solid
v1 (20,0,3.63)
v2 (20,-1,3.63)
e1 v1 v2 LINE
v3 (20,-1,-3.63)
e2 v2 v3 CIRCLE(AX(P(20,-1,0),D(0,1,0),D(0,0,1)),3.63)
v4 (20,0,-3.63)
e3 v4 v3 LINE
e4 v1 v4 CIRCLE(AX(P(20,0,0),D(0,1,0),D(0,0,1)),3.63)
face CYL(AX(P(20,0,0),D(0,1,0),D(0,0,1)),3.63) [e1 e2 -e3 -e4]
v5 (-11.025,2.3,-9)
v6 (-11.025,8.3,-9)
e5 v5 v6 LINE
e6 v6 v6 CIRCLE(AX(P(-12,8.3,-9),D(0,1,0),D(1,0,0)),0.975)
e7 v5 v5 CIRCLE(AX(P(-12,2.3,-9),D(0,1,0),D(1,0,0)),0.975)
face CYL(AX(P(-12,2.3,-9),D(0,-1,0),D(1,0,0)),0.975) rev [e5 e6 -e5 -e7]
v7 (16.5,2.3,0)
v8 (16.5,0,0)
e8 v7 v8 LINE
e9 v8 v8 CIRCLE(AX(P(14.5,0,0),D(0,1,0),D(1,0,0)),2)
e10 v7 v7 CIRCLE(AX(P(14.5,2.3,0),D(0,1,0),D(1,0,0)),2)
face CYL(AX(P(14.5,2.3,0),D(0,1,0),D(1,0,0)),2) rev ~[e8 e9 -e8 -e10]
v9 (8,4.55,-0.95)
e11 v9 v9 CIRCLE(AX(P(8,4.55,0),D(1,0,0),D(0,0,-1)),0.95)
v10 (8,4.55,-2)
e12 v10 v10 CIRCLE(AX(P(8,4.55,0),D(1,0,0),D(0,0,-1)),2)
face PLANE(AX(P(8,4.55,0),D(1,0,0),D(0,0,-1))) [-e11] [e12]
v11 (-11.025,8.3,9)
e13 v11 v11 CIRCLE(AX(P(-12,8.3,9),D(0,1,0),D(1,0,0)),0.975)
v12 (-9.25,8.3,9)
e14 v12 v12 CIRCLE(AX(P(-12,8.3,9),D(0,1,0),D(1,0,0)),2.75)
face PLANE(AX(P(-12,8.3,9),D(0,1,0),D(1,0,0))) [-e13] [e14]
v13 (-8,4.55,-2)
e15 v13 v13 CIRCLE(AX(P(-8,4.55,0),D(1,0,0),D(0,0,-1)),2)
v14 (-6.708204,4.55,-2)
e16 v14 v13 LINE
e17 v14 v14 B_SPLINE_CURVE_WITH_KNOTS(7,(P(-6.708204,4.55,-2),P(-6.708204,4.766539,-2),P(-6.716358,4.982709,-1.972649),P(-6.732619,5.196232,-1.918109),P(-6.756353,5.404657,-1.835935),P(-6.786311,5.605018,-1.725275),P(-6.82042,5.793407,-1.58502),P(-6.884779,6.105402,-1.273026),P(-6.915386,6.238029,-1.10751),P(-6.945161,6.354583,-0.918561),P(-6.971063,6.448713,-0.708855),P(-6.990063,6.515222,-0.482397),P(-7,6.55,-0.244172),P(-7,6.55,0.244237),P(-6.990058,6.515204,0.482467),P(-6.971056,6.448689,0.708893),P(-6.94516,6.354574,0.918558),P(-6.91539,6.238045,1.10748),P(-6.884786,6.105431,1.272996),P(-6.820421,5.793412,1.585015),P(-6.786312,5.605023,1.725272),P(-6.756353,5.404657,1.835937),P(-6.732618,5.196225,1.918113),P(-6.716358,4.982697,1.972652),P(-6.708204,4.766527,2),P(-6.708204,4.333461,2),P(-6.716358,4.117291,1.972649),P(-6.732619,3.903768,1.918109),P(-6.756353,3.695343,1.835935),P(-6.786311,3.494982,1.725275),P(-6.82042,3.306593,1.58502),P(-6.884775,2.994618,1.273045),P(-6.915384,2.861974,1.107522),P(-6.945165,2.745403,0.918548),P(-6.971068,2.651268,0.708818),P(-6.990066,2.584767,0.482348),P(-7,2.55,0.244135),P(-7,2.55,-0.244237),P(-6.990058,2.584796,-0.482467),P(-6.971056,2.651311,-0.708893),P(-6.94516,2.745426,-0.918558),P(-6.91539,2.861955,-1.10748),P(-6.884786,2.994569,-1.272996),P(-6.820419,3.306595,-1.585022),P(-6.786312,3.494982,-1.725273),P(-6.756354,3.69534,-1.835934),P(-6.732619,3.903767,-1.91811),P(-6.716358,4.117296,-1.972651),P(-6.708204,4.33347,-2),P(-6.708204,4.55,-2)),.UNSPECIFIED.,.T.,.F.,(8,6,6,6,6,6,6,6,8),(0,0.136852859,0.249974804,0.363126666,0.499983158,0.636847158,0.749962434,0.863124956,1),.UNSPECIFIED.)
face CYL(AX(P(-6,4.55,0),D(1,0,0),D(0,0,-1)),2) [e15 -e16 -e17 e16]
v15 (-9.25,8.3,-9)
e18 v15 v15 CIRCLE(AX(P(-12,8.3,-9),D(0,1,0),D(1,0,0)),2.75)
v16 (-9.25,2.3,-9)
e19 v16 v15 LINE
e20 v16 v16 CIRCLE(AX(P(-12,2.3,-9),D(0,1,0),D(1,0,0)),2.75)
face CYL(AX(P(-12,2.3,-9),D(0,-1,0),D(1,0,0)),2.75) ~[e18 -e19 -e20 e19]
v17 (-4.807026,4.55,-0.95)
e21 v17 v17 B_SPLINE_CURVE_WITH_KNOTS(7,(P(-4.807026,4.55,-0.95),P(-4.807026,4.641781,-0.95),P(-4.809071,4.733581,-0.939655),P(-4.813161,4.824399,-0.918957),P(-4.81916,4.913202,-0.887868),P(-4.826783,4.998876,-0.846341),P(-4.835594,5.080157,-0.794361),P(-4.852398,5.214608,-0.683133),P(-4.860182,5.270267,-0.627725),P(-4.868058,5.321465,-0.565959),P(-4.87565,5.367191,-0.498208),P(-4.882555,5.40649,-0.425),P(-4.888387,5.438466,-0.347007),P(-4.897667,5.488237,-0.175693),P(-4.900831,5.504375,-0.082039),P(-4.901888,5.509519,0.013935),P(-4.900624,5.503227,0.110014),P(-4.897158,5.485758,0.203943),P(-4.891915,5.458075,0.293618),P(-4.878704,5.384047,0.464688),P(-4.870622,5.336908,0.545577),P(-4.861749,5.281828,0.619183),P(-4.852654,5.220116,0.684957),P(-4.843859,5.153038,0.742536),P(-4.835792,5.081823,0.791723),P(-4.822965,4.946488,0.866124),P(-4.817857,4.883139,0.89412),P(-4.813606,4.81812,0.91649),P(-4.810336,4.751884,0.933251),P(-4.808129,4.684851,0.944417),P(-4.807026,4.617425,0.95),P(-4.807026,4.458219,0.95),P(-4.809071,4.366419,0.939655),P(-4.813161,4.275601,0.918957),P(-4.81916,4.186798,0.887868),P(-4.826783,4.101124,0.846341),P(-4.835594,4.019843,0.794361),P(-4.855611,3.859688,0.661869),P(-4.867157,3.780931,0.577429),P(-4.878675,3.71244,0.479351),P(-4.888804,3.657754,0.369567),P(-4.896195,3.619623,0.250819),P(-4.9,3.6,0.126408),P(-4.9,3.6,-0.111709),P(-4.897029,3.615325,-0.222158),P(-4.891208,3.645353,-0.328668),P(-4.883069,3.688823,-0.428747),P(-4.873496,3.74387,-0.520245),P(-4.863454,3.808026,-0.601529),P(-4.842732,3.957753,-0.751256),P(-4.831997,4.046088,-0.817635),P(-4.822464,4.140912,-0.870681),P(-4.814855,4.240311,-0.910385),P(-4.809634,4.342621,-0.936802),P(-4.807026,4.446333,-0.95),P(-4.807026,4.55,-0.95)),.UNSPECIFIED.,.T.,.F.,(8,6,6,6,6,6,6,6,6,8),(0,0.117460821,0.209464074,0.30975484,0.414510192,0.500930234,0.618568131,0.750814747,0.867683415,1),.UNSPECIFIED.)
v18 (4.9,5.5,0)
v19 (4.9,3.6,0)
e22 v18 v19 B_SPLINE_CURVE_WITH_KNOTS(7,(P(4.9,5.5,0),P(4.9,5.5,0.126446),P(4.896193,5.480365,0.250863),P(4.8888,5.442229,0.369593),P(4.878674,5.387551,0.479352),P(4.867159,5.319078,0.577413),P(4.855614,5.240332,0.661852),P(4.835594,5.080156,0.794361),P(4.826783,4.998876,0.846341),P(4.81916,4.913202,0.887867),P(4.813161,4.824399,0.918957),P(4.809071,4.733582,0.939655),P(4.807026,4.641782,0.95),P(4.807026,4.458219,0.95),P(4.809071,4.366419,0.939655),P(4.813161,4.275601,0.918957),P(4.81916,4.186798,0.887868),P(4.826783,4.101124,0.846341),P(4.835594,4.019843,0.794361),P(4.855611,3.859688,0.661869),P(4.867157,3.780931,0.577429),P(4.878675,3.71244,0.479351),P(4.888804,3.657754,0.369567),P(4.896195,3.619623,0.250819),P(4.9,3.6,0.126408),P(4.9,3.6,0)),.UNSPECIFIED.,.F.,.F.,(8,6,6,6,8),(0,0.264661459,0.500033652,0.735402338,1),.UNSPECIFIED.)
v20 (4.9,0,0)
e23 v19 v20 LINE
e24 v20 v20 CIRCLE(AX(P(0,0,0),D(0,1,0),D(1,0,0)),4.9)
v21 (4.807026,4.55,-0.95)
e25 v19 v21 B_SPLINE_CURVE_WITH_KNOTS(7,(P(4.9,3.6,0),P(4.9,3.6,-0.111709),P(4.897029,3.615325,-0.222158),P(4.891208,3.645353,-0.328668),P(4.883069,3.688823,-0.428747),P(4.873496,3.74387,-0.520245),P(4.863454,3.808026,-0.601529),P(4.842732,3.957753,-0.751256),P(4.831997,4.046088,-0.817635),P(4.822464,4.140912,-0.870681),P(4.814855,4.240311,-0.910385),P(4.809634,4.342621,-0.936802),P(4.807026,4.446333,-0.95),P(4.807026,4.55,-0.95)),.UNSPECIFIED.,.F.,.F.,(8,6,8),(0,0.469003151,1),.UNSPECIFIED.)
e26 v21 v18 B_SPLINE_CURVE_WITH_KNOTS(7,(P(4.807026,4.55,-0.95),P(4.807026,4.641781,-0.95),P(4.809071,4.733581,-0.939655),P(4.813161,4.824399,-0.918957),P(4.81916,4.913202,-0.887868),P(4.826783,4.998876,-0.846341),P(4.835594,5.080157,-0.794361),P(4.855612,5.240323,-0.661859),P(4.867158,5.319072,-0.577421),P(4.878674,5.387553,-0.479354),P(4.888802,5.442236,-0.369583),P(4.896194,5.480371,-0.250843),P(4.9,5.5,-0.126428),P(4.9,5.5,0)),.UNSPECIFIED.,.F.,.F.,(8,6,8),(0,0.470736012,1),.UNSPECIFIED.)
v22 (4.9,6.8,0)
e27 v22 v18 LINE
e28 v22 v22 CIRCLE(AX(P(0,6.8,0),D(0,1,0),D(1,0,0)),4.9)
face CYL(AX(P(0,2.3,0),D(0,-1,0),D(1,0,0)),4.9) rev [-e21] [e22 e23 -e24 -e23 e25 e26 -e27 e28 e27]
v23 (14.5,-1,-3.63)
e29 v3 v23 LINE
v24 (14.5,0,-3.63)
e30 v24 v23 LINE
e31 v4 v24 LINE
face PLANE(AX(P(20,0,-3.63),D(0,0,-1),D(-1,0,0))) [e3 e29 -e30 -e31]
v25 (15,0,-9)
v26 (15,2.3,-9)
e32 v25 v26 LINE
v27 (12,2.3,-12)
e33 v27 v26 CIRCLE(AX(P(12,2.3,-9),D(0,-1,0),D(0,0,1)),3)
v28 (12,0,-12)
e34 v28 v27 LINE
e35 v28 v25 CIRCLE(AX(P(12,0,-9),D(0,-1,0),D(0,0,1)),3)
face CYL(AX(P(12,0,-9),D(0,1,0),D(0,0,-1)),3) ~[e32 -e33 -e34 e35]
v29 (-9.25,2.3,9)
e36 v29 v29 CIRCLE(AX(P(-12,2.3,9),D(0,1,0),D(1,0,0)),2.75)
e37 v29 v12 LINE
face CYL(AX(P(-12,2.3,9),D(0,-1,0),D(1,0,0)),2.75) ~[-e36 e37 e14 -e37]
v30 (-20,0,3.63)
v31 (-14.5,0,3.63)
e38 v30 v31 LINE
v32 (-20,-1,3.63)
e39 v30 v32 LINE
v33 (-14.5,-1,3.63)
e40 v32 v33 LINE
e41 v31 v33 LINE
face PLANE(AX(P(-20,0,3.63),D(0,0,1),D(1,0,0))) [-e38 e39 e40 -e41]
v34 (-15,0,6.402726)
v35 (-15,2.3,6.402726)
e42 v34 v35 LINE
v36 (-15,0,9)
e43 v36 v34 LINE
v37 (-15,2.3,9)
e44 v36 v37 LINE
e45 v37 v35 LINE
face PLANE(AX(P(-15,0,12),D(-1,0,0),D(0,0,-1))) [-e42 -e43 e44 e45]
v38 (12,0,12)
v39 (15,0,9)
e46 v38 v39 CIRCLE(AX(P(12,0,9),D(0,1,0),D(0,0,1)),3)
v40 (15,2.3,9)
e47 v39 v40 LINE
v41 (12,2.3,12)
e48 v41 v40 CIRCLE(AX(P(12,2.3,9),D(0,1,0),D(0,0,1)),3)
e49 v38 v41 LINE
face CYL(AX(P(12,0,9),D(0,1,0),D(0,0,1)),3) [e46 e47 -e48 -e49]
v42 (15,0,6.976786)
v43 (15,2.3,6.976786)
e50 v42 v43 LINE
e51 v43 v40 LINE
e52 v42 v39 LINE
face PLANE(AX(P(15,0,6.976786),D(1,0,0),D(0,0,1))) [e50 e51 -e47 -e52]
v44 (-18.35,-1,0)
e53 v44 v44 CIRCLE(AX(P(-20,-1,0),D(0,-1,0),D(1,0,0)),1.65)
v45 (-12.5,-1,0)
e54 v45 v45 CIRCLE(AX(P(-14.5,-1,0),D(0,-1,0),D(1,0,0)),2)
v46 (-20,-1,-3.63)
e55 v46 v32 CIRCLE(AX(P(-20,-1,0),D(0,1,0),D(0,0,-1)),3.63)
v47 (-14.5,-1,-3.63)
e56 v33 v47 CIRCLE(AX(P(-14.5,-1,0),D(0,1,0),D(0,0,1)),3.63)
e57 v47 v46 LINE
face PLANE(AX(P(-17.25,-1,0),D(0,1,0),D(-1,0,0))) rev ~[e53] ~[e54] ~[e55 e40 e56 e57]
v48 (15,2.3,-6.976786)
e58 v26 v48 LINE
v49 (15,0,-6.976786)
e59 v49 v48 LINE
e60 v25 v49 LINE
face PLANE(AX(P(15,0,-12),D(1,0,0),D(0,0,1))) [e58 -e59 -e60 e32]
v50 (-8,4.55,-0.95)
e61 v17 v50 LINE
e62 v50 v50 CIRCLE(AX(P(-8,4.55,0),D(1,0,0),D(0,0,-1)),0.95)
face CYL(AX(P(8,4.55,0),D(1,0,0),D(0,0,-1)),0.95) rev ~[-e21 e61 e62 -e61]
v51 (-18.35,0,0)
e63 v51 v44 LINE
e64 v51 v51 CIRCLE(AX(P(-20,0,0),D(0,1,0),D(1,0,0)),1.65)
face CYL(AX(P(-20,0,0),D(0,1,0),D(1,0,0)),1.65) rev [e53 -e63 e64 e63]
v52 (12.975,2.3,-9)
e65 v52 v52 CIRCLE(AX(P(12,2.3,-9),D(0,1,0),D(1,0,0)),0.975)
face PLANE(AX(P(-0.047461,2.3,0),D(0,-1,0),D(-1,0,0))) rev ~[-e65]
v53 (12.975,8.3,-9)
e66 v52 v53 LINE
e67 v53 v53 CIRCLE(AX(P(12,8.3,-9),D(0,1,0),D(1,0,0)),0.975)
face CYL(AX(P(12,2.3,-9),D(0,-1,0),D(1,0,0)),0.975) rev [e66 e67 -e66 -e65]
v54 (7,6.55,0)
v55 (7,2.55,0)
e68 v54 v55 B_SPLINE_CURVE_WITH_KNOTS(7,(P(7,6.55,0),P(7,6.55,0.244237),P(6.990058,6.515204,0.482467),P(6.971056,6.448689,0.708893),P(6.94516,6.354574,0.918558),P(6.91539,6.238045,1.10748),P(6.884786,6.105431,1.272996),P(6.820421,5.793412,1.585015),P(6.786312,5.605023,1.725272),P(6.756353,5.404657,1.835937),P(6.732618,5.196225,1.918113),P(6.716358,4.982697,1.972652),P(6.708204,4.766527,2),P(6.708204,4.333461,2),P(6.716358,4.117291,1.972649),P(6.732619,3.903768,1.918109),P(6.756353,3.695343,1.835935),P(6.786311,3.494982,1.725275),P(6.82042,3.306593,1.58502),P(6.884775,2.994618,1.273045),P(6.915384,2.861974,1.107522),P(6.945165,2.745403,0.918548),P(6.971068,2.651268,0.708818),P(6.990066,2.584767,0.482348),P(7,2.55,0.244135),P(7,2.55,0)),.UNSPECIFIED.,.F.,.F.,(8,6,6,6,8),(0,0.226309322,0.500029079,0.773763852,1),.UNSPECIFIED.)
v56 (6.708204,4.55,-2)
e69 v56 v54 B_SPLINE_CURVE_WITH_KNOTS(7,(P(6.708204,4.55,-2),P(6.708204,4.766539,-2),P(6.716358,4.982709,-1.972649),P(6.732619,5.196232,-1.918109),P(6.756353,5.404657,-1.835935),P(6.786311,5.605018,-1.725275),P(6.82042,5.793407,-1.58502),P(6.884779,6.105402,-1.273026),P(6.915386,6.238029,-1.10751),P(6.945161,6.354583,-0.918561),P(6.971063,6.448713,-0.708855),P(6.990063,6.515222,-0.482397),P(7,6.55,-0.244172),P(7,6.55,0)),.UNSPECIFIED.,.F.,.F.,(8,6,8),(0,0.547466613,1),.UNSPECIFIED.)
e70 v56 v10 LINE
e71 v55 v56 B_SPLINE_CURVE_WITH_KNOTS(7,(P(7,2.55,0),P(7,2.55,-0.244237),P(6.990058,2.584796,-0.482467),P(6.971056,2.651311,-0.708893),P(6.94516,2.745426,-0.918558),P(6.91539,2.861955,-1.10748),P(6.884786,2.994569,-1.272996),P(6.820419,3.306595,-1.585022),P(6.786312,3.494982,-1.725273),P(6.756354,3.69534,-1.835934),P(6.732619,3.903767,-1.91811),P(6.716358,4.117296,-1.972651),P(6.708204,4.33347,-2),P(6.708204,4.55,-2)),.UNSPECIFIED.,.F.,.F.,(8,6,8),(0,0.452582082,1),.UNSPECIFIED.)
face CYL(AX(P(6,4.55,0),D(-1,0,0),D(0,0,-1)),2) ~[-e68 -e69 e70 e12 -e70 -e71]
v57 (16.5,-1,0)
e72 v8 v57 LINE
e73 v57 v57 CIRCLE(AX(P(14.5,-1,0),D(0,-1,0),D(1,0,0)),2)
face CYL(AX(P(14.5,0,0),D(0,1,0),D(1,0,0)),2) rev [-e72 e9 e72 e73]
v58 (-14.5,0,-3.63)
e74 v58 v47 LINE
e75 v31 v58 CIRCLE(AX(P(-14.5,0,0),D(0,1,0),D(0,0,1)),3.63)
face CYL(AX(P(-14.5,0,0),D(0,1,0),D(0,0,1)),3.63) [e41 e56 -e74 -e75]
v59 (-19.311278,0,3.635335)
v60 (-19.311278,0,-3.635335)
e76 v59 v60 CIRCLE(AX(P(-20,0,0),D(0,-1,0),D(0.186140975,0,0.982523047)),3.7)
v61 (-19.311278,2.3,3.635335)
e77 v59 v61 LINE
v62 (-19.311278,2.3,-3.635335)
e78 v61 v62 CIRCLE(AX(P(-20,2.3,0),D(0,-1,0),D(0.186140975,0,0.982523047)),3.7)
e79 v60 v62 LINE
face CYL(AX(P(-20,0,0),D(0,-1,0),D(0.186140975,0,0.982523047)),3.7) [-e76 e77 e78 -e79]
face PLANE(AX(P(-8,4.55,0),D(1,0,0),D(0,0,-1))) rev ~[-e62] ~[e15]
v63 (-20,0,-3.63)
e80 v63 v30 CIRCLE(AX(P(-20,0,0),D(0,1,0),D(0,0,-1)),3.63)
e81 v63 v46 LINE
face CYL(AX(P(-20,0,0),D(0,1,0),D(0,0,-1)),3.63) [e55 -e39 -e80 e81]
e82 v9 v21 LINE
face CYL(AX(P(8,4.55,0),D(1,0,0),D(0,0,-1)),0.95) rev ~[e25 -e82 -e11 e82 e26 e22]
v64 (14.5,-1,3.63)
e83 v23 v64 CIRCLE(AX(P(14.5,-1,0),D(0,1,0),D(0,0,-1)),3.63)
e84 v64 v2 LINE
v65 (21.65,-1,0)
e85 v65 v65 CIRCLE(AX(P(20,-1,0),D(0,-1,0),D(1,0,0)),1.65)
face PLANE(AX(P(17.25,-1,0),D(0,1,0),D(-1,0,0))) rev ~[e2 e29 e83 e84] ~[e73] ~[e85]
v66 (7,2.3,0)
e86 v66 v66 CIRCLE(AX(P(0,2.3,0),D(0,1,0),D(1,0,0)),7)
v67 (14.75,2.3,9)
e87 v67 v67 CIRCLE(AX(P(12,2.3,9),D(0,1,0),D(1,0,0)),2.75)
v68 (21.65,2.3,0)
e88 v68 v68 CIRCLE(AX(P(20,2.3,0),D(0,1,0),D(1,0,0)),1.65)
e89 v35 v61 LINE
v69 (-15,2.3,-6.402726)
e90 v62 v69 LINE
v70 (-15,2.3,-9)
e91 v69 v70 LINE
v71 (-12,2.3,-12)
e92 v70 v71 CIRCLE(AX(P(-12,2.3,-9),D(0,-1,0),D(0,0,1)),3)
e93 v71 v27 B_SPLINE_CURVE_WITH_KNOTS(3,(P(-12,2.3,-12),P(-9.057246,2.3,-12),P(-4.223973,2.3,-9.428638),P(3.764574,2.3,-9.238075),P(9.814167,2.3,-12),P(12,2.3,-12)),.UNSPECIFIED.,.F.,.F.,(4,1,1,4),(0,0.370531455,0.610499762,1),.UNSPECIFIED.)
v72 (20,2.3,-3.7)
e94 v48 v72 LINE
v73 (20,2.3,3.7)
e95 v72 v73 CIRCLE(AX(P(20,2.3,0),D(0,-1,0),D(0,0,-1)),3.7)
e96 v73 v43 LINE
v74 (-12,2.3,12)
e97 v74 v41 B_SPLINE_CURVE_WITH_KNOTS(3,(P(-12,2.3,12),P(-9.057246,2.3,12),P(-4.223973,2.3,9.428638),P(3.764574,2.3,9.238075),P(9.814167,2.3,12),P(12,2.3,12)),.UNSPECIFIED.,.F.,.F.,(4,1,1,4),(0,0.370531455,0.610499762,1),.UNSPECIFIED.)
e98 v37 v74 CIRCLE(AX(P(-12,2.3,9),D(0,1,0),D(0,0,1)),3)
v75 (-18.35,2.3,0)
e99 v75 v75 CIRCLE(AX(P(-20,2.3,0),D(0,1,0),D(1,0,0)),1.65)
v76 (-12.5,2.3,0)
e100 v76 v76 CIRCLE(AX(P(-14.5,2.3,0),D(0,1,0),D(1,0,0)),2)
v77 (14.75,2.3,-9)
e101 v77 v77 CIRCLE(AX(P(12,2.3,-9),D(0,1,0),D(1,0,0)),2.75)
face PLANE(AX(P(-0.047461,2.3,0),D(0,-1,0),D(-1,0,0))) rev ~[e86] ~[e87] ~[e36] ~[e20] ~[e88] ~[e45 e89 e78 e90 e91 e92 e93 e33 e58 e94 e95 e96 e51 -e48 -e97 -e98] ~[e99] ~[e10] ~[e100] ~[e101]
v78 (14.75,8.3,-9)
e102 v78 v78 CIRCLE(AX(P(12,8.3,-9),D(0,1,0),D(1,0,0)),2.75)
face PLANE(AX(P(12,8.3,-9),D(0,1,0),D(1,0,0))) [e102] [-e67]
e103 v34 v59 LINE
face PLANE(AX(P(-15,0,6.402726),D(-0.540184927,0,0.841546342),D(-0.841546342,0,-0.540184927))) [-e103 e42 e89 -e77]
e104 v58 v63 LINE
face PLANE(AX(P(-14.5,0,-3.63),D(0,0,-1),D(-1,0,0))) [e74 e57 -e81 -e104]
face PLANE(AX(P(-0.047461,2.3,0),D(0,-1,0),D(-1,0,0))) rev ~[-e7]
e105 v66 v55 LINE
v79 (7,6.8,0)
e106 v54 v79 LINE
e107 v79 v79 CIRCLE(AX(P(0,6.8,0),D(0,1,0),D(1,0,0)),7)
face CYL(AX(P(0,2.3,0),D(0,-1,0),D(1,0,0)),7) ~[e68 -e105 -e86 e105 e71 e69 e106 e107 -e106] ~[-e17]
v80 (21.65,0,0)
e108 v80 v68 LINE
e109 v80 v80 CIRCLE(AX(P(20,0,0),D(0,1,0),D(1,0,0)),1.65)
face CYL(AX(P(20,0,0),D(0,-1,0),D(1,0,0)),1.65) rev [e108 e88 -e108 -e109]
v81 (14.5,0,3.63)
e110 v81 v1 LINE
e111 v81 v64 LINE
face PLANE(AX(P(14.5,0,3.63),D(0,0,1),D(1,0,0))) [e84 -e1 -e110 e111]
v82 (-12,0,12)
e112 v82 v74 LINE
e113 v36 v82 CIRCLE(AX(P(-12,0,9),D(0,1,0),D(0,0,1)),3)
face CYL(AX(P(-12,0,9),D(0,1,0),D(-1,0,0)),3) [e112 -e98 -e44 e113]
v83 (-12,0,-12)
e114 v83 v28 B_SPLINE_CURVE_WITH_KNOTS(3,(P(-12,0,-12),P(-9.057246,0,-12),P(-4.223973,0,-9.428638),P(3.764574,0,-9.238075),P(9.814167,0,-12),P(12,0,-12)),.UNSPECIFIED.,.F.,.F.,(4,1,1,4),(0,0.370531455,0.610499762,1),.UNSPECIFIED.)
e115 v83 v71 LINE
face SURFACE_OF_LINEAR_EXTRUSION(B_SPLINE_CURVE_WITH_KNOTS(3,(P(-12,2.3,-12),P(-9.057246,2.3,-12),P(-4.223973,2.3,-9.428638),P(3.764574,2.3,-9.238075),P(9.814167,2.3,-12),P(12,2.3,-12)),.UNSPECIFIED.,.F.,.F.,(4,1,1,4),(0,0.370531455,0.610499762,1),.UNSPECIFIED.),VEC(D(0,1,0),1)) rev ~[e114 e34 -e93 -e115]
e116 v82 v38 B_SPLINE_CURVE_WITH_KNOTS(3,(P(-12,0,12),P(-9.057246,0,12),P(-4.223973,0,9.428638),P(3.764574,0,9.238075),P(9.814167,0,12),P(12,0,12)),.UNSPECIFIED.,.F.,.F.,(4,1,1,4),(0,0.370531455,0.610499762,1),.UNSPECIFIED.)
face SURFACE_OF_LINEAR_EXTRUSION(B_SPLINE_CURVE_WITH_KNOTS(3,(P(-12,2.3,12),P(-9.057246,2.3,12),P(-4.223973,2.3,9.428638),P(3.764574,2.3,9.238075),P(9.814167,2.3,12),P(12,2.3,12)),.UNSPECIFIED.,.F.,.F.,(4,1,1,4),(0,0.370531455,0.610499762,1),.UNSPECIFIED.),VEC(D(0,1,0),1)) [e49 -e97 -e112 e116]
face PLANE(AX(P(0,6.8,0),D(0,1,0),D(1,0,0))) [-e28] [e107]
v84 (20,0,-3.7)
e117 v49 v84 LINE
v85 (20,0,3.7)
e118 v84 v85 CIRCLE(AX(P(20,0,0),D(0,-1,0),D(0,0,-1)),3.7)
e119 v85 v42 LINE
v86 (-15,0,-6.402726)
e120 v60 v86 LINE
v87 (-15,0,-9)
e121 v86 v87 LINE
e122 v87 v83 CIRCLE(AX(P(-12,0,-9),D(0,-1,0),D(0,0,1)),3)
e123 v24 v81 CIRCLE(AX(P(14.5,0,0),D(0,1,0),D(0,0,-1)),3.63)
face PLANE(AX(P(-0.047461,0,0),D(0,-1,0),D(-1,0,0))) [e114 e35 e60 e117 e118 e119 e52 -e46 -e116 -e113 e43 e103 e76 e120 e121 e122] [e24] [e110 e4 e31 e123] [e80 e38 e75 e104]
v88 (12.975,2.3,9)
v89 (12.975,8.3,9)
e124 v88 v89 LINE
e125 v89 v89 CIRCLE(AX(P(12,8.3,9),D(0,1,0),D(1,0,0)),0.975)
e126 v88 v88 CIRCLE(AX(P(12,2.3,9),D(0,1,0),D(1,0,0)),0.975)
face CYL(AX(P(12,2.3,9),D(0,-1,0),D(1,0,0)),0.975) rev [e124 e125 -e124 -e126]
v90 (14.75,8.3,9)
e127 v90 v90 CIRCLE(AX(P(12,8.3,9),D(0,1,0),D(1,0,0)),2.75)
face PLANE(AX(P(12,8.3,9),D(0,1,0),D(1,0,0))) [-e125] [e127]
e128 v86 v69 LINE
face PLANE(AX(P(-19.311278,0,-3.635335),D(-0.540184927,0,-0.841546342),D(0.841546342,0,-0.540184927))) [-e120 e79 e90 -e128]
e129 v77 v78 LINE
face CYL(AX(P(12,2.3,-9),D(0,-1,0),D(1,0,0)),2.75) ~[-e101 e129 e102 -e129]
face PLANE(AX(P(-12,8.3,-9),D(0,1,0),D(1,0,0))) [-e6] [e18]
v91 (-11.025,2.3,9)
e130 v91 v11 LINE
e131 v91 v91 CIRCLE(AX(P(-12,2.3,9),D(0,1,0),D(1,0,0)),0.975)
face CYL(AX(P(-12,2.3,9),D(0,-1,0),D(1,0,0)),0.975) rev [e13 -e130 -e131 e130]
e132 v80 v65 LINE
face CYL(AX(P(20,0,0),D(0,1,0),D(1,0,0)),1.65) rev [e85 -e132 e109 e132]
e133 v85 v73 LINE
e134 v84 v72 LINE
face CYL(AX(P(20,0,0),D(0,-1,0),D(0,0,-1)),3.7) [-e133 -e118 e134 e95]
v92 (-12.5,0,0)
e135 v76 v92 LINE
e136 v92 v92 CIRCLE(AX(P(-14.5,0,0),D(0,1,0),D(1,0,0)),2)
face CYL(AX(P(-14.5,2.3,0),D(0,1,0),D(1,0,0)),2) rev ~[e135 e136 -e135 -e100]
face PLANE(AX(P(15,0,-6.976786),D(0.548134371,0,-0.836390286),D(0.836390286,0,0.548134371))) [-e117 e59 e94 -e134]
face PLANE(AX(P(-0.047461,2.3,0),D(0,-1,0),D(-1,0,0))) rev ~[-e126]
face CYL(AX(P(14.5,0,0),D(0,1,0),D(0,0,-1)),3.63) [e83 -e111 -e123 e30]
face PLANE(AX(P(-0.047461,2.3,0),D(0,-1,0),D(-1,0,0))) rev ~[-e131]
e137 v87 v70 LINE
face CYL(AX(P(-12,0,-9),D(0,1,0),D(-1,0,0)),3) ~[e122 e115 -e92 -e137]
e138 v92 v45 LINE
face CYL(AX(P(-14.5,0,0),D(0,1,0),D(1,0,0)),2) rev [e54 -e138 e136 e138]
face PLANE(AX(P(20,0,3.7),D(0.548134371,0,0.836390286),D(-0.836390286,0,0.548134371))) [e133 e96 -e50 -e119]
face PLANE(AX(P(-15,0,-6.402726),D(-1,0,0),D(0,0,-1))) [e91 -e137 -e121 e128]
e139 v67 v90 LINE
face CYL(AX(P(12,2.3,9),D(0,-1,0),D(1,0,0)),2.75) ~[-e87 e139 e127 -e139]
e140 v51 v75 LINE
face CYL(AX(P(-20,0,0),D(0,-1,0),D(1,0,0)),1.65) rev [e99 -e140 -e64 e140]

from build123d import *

# Parameters (mm, degrees)
SKETCH1_R           = 4.9
SKETCH1_R_2         = 1.65
BOSS_EXTRUDE1_DEPTH = 2.3
FILLET1_R           = 3
SKETCH3_R           = 2.75
SKETCH3_R_2         = 0.975
BOSS_EXTRUDE2_DEPTH = 6
CUT_EXTRUDE1_DEPTH  = 2.3
SKETCH5_R           = 7
SKETCH5_R_2         = 4.9
BOSS_EXTRUDE3_DEPTH = 4.5
BOSS_EXTRUDE4_START = 6
SKETCH6_R           = 2
BOSS_EXTRUDE4_DEPTH = 2
BOSS_EXTRUDE5_START = -6
SKETCH6_2_R         = 2
BOSS_EXTRUDE5_DEPTH = 2
SKETCH7_R           = 0.104776465
SKETCH7_R_2         = 0.95
CUT_EXTRUDE2_DEPTH  = 16
SKETCH8_R           = 2
CUT_EXTRUDE3_DEPTH  = 2.3
SKETCH10_R          = 2
SKETCH10_R_2        = 1.65
BOSS_EXTRUDE8_DEPTH = 1


with BuildPart() as part:
    # Sketch1 → Boss-Extrude1 (new body)
    with BuildSketch(Plane(origin=(0, 0, 0), x_dir=(1, 0, 0), z_dir=(0, 1, 0))):
        with BuildLine():
            Line((-19.311278394, 3.635335273), (-15, 6.402726073))
            Line((-15, 6.402726073), (-15, 12))
            Line((-15, 12), (15, 12))
            Line((15, 12), (15, 6.97678585))
            Line((15, 6.97678585), (20, 3.7))
            ThreePointArc((20, 3.7), (23.7, 0), (20, -3.7))
            Line((20, -3.7), (15, -6.97678585))
            Line((15, -6.97678585), (15, -12))
            Line((15, -12), (-15, -12))
            Line((-15, -12), (-15, -6.402726073))
            Line((-15, -6.402726073), (-19.311278394, -3.635335273))
            ThreePointArc((-19.311278394, -3.635335273), (-23.7, 0), (-19.311278394, 3.635335273))
        make_face()
        Circle(SKETCH1_R, mode=Mode.SUBTRACT)
        with Locations((-20, 0)):
            Circle(SKETCH1_R_2, mode=Mode.SUBTRACT)
        with Locations((20, 0)):
            Circle(SKETCH1_R_2, mode=Mode.SUBTRACT)
    extrude(amount=BOSS_EXTRUDE1_DEPTH)

    # Fillet1
    fillet1_edges = [part.edges().sort_by_distance(p)[0] for p in [
        (-15, 1.15, -12),
        (15, 1.15, -12),
        (15, 1.15, 12),
        (-15, 1.15, 12),
    ]]
    fillet(fillet1_edges, radius=FILLET1_R)

    # Sketch3 → Boss-Extrude2 (add)
    with BuildSketch(Plane(origin=(0, 2.3, 0), x_dir=(1, 0, 0), z_dir=(0, 1, 0))):
        with Locations((-12, 9)):
            Circle(SKETCH3_R)
        with Locations((-12, 9)):
            Circle(SKETCH3_R_2, mode=Mode.SUBTRACT)
        with Locations((12, 9)):
            Circle(SKETCH3_R)
        with Locations((12, 9)):
            Circle(SKETCH3_R_2, mode=Mode.SUBTRACT)
        with Locations((12, -9)):
            Circle(SKETCH3_R)
        with Locations((12, -9)):
            Circle(SKETCH3_R_2, mode=Mode.SUBTRACT)
        with Locations((-12, -9)):
            Circle(SKETCH3_R)
        with Locations((-12, -9)):
            Circle(SKETCH3_R_2, mode=Mode.SUBTRACT)
    extrude(amount=BOSS_EXTRUDE2_DEPTH)

    # Sketch4 → Cut-Extrude1 (cut)
    with BuildSketch(Plane(origin=(0, 2.3, 0), x_dir=(1, 0, 0), z_dir=(0, 1, 0))):
        with BuildLine():
            Line((-12, 12), (-12, 16.294257714))
            Line((-12, 16.294257714), (12, 16.294257714))
            Line((12, 16.294257714), (12, 15.219911052))
            Line((12, 15.219911052), (12, 12))
            add(Edge.make_bspline(
                [(-12, 12), (-9.057245707, 12), (-4.223972764, 9.428637942), (3.764574149, 9.238075055), (9.81416723, 12), (12, 12)],
                knots=[0, 0, 0, 0, 0.370531455, 0.610499762, 1, 1, 1, 1], degree=3))
        make_face()
        with BuildLine():
            Line((12, -16.294257714), (12, -15.219911052))
            Line((12, -15.219911052), (12, -12))
            add(Edge.make_bspline(
                [(-12, -12), (-9.057245707, -12), (-4.223972764, -9.428637942), (3.764574149, -9.238075055), (9.81416723, -12), (12, -12)],
                knots=[0, 0, 0, 0, 0.370531455, 0.610499762, 1, 1, 1, 1], degree=3))
            Line((-12, -12), (-12, -16.294257714))
            Line((-12, -16.294257714), (12, -16.294257714))
        make_face()
    extrude(amount=-CUT_EXTRUDE1_DEPTH, mode=Mode.SUBTRACT)

    # Sketch5 → Boss-Extrude3 (add)
    with BuildSketch(Plane(origin=(0, 2.3, 0), x_dir=(1, 0, 0), z_dir=(0, 1, 0))):
        Circle(SKETCH5_R)
        Circle(SKETCH5_R_2, mode=Mode.SUBTRACT)
    extrude(amount=BOSS_EXTRUDE3_DEPTH)

    # Sketch6 → Boss-Extrude4 (add)
    with BuildSketch(Plane(origin=(0, 0, 0), x_dir=(0, 0, -1), z_dir=(1, 0, 0)).offset(BOSS_EXTRUDE4_START)):
        with Locations((0, 4.55)):
            Circle(SKETCH6_R)
    extrude(amount=BOSS_EXTRUDE4_DEPTH)

    # Sketch6<2> → Boss-Extrude5 (add)
    with BuildSketch(Plane(origin=(0, 0, 0), x_dir=(0, 0, -1), z_dir=(1, 0, 0)).offset(BOSS_EXTRUDE5_START)):
        with Locations((0, 4.55)):
            Circle(SKETCH6_2_R)
    extrude(amount=-BOSS_EXTRUDE5_DEPTH)

    # Sketch7 → Cut-Extrude2 (cut)
    with BuildSketch(Plane(origin=(8, 0, 0), x_dir=(0, 0, -1), z_dir=(1, 0, 0))):
        with Locations((-18.077789398, 8.361547887)):
            Circle(SKETCH7_R)
        with Locations((0, 4.55)):
            Circle(SKETCH7_R_2)
    extrude(amount=-CUT_EXTRUDE2_DEPTH, mode=Mode.SUBTRACT)

    # Sketch8 → Cut-Extrude3 (cut)
    with BuildSketch(Plane(origin=(0, 2.3, 0), x_dir=(1, 0, 0), z_dir=(0, 1, 0))):
        with Locations((-14.5, 0)):
            Circle(SKETCH8_R)
        with Locations((14.5, 0)):
            Circle(SKETCH8_R)
    extrude(amount=-CUT_EXTRUDE3_DEPTH, mode=Mode.SUBTRACT)

    # Sketch10 → Boss-Extrude8 (add)
    with BuildSketch(Plane.XZ):
        with BuildLine():
            Line((-20, 3.63), (-14.5, 3.63))
            ThreePointArc((-14.5, 3.63), (-10.87, 0), (-14.5, -3.63))
            Line((-14.5, -3.63), (-20, -3.63))
            ThreePointArc((-20, -3.63), (-23.63, 0), (-20, 3.63))
        make_face()
        with Locations((-14.5, 0)):
            Circle(SKETCH10_R, mode=Mode.SUBTRACT)
        with Locations((-20, 0)):
            Circle(SKETCH10_R_2, mode=Mode.SUBTRACT)
        with BuildLine():
            Line((14.5, 3.63), (20, 3.63))
            ThreePointArc((20, 3.63), (23.63, 0), (20, -3.63))
            Line((20, -3.63), (14.5, -3.63))
            ThreePointArc((14.5, -3.63), (10.87, 0), (14.5, 3.63))
        make_face()
        with Locations((14.5, 0)):
            Circle(SKETCH10_R, mode=Mode.SUBTRACT)
        with Locations((20, 0)):
            Circle(SKETCH10_R_2, mode=Mode.SUBTRACT)
    extrude(amount=BOSS_EXTRUDE8_DEPTH)


solid = part.part
